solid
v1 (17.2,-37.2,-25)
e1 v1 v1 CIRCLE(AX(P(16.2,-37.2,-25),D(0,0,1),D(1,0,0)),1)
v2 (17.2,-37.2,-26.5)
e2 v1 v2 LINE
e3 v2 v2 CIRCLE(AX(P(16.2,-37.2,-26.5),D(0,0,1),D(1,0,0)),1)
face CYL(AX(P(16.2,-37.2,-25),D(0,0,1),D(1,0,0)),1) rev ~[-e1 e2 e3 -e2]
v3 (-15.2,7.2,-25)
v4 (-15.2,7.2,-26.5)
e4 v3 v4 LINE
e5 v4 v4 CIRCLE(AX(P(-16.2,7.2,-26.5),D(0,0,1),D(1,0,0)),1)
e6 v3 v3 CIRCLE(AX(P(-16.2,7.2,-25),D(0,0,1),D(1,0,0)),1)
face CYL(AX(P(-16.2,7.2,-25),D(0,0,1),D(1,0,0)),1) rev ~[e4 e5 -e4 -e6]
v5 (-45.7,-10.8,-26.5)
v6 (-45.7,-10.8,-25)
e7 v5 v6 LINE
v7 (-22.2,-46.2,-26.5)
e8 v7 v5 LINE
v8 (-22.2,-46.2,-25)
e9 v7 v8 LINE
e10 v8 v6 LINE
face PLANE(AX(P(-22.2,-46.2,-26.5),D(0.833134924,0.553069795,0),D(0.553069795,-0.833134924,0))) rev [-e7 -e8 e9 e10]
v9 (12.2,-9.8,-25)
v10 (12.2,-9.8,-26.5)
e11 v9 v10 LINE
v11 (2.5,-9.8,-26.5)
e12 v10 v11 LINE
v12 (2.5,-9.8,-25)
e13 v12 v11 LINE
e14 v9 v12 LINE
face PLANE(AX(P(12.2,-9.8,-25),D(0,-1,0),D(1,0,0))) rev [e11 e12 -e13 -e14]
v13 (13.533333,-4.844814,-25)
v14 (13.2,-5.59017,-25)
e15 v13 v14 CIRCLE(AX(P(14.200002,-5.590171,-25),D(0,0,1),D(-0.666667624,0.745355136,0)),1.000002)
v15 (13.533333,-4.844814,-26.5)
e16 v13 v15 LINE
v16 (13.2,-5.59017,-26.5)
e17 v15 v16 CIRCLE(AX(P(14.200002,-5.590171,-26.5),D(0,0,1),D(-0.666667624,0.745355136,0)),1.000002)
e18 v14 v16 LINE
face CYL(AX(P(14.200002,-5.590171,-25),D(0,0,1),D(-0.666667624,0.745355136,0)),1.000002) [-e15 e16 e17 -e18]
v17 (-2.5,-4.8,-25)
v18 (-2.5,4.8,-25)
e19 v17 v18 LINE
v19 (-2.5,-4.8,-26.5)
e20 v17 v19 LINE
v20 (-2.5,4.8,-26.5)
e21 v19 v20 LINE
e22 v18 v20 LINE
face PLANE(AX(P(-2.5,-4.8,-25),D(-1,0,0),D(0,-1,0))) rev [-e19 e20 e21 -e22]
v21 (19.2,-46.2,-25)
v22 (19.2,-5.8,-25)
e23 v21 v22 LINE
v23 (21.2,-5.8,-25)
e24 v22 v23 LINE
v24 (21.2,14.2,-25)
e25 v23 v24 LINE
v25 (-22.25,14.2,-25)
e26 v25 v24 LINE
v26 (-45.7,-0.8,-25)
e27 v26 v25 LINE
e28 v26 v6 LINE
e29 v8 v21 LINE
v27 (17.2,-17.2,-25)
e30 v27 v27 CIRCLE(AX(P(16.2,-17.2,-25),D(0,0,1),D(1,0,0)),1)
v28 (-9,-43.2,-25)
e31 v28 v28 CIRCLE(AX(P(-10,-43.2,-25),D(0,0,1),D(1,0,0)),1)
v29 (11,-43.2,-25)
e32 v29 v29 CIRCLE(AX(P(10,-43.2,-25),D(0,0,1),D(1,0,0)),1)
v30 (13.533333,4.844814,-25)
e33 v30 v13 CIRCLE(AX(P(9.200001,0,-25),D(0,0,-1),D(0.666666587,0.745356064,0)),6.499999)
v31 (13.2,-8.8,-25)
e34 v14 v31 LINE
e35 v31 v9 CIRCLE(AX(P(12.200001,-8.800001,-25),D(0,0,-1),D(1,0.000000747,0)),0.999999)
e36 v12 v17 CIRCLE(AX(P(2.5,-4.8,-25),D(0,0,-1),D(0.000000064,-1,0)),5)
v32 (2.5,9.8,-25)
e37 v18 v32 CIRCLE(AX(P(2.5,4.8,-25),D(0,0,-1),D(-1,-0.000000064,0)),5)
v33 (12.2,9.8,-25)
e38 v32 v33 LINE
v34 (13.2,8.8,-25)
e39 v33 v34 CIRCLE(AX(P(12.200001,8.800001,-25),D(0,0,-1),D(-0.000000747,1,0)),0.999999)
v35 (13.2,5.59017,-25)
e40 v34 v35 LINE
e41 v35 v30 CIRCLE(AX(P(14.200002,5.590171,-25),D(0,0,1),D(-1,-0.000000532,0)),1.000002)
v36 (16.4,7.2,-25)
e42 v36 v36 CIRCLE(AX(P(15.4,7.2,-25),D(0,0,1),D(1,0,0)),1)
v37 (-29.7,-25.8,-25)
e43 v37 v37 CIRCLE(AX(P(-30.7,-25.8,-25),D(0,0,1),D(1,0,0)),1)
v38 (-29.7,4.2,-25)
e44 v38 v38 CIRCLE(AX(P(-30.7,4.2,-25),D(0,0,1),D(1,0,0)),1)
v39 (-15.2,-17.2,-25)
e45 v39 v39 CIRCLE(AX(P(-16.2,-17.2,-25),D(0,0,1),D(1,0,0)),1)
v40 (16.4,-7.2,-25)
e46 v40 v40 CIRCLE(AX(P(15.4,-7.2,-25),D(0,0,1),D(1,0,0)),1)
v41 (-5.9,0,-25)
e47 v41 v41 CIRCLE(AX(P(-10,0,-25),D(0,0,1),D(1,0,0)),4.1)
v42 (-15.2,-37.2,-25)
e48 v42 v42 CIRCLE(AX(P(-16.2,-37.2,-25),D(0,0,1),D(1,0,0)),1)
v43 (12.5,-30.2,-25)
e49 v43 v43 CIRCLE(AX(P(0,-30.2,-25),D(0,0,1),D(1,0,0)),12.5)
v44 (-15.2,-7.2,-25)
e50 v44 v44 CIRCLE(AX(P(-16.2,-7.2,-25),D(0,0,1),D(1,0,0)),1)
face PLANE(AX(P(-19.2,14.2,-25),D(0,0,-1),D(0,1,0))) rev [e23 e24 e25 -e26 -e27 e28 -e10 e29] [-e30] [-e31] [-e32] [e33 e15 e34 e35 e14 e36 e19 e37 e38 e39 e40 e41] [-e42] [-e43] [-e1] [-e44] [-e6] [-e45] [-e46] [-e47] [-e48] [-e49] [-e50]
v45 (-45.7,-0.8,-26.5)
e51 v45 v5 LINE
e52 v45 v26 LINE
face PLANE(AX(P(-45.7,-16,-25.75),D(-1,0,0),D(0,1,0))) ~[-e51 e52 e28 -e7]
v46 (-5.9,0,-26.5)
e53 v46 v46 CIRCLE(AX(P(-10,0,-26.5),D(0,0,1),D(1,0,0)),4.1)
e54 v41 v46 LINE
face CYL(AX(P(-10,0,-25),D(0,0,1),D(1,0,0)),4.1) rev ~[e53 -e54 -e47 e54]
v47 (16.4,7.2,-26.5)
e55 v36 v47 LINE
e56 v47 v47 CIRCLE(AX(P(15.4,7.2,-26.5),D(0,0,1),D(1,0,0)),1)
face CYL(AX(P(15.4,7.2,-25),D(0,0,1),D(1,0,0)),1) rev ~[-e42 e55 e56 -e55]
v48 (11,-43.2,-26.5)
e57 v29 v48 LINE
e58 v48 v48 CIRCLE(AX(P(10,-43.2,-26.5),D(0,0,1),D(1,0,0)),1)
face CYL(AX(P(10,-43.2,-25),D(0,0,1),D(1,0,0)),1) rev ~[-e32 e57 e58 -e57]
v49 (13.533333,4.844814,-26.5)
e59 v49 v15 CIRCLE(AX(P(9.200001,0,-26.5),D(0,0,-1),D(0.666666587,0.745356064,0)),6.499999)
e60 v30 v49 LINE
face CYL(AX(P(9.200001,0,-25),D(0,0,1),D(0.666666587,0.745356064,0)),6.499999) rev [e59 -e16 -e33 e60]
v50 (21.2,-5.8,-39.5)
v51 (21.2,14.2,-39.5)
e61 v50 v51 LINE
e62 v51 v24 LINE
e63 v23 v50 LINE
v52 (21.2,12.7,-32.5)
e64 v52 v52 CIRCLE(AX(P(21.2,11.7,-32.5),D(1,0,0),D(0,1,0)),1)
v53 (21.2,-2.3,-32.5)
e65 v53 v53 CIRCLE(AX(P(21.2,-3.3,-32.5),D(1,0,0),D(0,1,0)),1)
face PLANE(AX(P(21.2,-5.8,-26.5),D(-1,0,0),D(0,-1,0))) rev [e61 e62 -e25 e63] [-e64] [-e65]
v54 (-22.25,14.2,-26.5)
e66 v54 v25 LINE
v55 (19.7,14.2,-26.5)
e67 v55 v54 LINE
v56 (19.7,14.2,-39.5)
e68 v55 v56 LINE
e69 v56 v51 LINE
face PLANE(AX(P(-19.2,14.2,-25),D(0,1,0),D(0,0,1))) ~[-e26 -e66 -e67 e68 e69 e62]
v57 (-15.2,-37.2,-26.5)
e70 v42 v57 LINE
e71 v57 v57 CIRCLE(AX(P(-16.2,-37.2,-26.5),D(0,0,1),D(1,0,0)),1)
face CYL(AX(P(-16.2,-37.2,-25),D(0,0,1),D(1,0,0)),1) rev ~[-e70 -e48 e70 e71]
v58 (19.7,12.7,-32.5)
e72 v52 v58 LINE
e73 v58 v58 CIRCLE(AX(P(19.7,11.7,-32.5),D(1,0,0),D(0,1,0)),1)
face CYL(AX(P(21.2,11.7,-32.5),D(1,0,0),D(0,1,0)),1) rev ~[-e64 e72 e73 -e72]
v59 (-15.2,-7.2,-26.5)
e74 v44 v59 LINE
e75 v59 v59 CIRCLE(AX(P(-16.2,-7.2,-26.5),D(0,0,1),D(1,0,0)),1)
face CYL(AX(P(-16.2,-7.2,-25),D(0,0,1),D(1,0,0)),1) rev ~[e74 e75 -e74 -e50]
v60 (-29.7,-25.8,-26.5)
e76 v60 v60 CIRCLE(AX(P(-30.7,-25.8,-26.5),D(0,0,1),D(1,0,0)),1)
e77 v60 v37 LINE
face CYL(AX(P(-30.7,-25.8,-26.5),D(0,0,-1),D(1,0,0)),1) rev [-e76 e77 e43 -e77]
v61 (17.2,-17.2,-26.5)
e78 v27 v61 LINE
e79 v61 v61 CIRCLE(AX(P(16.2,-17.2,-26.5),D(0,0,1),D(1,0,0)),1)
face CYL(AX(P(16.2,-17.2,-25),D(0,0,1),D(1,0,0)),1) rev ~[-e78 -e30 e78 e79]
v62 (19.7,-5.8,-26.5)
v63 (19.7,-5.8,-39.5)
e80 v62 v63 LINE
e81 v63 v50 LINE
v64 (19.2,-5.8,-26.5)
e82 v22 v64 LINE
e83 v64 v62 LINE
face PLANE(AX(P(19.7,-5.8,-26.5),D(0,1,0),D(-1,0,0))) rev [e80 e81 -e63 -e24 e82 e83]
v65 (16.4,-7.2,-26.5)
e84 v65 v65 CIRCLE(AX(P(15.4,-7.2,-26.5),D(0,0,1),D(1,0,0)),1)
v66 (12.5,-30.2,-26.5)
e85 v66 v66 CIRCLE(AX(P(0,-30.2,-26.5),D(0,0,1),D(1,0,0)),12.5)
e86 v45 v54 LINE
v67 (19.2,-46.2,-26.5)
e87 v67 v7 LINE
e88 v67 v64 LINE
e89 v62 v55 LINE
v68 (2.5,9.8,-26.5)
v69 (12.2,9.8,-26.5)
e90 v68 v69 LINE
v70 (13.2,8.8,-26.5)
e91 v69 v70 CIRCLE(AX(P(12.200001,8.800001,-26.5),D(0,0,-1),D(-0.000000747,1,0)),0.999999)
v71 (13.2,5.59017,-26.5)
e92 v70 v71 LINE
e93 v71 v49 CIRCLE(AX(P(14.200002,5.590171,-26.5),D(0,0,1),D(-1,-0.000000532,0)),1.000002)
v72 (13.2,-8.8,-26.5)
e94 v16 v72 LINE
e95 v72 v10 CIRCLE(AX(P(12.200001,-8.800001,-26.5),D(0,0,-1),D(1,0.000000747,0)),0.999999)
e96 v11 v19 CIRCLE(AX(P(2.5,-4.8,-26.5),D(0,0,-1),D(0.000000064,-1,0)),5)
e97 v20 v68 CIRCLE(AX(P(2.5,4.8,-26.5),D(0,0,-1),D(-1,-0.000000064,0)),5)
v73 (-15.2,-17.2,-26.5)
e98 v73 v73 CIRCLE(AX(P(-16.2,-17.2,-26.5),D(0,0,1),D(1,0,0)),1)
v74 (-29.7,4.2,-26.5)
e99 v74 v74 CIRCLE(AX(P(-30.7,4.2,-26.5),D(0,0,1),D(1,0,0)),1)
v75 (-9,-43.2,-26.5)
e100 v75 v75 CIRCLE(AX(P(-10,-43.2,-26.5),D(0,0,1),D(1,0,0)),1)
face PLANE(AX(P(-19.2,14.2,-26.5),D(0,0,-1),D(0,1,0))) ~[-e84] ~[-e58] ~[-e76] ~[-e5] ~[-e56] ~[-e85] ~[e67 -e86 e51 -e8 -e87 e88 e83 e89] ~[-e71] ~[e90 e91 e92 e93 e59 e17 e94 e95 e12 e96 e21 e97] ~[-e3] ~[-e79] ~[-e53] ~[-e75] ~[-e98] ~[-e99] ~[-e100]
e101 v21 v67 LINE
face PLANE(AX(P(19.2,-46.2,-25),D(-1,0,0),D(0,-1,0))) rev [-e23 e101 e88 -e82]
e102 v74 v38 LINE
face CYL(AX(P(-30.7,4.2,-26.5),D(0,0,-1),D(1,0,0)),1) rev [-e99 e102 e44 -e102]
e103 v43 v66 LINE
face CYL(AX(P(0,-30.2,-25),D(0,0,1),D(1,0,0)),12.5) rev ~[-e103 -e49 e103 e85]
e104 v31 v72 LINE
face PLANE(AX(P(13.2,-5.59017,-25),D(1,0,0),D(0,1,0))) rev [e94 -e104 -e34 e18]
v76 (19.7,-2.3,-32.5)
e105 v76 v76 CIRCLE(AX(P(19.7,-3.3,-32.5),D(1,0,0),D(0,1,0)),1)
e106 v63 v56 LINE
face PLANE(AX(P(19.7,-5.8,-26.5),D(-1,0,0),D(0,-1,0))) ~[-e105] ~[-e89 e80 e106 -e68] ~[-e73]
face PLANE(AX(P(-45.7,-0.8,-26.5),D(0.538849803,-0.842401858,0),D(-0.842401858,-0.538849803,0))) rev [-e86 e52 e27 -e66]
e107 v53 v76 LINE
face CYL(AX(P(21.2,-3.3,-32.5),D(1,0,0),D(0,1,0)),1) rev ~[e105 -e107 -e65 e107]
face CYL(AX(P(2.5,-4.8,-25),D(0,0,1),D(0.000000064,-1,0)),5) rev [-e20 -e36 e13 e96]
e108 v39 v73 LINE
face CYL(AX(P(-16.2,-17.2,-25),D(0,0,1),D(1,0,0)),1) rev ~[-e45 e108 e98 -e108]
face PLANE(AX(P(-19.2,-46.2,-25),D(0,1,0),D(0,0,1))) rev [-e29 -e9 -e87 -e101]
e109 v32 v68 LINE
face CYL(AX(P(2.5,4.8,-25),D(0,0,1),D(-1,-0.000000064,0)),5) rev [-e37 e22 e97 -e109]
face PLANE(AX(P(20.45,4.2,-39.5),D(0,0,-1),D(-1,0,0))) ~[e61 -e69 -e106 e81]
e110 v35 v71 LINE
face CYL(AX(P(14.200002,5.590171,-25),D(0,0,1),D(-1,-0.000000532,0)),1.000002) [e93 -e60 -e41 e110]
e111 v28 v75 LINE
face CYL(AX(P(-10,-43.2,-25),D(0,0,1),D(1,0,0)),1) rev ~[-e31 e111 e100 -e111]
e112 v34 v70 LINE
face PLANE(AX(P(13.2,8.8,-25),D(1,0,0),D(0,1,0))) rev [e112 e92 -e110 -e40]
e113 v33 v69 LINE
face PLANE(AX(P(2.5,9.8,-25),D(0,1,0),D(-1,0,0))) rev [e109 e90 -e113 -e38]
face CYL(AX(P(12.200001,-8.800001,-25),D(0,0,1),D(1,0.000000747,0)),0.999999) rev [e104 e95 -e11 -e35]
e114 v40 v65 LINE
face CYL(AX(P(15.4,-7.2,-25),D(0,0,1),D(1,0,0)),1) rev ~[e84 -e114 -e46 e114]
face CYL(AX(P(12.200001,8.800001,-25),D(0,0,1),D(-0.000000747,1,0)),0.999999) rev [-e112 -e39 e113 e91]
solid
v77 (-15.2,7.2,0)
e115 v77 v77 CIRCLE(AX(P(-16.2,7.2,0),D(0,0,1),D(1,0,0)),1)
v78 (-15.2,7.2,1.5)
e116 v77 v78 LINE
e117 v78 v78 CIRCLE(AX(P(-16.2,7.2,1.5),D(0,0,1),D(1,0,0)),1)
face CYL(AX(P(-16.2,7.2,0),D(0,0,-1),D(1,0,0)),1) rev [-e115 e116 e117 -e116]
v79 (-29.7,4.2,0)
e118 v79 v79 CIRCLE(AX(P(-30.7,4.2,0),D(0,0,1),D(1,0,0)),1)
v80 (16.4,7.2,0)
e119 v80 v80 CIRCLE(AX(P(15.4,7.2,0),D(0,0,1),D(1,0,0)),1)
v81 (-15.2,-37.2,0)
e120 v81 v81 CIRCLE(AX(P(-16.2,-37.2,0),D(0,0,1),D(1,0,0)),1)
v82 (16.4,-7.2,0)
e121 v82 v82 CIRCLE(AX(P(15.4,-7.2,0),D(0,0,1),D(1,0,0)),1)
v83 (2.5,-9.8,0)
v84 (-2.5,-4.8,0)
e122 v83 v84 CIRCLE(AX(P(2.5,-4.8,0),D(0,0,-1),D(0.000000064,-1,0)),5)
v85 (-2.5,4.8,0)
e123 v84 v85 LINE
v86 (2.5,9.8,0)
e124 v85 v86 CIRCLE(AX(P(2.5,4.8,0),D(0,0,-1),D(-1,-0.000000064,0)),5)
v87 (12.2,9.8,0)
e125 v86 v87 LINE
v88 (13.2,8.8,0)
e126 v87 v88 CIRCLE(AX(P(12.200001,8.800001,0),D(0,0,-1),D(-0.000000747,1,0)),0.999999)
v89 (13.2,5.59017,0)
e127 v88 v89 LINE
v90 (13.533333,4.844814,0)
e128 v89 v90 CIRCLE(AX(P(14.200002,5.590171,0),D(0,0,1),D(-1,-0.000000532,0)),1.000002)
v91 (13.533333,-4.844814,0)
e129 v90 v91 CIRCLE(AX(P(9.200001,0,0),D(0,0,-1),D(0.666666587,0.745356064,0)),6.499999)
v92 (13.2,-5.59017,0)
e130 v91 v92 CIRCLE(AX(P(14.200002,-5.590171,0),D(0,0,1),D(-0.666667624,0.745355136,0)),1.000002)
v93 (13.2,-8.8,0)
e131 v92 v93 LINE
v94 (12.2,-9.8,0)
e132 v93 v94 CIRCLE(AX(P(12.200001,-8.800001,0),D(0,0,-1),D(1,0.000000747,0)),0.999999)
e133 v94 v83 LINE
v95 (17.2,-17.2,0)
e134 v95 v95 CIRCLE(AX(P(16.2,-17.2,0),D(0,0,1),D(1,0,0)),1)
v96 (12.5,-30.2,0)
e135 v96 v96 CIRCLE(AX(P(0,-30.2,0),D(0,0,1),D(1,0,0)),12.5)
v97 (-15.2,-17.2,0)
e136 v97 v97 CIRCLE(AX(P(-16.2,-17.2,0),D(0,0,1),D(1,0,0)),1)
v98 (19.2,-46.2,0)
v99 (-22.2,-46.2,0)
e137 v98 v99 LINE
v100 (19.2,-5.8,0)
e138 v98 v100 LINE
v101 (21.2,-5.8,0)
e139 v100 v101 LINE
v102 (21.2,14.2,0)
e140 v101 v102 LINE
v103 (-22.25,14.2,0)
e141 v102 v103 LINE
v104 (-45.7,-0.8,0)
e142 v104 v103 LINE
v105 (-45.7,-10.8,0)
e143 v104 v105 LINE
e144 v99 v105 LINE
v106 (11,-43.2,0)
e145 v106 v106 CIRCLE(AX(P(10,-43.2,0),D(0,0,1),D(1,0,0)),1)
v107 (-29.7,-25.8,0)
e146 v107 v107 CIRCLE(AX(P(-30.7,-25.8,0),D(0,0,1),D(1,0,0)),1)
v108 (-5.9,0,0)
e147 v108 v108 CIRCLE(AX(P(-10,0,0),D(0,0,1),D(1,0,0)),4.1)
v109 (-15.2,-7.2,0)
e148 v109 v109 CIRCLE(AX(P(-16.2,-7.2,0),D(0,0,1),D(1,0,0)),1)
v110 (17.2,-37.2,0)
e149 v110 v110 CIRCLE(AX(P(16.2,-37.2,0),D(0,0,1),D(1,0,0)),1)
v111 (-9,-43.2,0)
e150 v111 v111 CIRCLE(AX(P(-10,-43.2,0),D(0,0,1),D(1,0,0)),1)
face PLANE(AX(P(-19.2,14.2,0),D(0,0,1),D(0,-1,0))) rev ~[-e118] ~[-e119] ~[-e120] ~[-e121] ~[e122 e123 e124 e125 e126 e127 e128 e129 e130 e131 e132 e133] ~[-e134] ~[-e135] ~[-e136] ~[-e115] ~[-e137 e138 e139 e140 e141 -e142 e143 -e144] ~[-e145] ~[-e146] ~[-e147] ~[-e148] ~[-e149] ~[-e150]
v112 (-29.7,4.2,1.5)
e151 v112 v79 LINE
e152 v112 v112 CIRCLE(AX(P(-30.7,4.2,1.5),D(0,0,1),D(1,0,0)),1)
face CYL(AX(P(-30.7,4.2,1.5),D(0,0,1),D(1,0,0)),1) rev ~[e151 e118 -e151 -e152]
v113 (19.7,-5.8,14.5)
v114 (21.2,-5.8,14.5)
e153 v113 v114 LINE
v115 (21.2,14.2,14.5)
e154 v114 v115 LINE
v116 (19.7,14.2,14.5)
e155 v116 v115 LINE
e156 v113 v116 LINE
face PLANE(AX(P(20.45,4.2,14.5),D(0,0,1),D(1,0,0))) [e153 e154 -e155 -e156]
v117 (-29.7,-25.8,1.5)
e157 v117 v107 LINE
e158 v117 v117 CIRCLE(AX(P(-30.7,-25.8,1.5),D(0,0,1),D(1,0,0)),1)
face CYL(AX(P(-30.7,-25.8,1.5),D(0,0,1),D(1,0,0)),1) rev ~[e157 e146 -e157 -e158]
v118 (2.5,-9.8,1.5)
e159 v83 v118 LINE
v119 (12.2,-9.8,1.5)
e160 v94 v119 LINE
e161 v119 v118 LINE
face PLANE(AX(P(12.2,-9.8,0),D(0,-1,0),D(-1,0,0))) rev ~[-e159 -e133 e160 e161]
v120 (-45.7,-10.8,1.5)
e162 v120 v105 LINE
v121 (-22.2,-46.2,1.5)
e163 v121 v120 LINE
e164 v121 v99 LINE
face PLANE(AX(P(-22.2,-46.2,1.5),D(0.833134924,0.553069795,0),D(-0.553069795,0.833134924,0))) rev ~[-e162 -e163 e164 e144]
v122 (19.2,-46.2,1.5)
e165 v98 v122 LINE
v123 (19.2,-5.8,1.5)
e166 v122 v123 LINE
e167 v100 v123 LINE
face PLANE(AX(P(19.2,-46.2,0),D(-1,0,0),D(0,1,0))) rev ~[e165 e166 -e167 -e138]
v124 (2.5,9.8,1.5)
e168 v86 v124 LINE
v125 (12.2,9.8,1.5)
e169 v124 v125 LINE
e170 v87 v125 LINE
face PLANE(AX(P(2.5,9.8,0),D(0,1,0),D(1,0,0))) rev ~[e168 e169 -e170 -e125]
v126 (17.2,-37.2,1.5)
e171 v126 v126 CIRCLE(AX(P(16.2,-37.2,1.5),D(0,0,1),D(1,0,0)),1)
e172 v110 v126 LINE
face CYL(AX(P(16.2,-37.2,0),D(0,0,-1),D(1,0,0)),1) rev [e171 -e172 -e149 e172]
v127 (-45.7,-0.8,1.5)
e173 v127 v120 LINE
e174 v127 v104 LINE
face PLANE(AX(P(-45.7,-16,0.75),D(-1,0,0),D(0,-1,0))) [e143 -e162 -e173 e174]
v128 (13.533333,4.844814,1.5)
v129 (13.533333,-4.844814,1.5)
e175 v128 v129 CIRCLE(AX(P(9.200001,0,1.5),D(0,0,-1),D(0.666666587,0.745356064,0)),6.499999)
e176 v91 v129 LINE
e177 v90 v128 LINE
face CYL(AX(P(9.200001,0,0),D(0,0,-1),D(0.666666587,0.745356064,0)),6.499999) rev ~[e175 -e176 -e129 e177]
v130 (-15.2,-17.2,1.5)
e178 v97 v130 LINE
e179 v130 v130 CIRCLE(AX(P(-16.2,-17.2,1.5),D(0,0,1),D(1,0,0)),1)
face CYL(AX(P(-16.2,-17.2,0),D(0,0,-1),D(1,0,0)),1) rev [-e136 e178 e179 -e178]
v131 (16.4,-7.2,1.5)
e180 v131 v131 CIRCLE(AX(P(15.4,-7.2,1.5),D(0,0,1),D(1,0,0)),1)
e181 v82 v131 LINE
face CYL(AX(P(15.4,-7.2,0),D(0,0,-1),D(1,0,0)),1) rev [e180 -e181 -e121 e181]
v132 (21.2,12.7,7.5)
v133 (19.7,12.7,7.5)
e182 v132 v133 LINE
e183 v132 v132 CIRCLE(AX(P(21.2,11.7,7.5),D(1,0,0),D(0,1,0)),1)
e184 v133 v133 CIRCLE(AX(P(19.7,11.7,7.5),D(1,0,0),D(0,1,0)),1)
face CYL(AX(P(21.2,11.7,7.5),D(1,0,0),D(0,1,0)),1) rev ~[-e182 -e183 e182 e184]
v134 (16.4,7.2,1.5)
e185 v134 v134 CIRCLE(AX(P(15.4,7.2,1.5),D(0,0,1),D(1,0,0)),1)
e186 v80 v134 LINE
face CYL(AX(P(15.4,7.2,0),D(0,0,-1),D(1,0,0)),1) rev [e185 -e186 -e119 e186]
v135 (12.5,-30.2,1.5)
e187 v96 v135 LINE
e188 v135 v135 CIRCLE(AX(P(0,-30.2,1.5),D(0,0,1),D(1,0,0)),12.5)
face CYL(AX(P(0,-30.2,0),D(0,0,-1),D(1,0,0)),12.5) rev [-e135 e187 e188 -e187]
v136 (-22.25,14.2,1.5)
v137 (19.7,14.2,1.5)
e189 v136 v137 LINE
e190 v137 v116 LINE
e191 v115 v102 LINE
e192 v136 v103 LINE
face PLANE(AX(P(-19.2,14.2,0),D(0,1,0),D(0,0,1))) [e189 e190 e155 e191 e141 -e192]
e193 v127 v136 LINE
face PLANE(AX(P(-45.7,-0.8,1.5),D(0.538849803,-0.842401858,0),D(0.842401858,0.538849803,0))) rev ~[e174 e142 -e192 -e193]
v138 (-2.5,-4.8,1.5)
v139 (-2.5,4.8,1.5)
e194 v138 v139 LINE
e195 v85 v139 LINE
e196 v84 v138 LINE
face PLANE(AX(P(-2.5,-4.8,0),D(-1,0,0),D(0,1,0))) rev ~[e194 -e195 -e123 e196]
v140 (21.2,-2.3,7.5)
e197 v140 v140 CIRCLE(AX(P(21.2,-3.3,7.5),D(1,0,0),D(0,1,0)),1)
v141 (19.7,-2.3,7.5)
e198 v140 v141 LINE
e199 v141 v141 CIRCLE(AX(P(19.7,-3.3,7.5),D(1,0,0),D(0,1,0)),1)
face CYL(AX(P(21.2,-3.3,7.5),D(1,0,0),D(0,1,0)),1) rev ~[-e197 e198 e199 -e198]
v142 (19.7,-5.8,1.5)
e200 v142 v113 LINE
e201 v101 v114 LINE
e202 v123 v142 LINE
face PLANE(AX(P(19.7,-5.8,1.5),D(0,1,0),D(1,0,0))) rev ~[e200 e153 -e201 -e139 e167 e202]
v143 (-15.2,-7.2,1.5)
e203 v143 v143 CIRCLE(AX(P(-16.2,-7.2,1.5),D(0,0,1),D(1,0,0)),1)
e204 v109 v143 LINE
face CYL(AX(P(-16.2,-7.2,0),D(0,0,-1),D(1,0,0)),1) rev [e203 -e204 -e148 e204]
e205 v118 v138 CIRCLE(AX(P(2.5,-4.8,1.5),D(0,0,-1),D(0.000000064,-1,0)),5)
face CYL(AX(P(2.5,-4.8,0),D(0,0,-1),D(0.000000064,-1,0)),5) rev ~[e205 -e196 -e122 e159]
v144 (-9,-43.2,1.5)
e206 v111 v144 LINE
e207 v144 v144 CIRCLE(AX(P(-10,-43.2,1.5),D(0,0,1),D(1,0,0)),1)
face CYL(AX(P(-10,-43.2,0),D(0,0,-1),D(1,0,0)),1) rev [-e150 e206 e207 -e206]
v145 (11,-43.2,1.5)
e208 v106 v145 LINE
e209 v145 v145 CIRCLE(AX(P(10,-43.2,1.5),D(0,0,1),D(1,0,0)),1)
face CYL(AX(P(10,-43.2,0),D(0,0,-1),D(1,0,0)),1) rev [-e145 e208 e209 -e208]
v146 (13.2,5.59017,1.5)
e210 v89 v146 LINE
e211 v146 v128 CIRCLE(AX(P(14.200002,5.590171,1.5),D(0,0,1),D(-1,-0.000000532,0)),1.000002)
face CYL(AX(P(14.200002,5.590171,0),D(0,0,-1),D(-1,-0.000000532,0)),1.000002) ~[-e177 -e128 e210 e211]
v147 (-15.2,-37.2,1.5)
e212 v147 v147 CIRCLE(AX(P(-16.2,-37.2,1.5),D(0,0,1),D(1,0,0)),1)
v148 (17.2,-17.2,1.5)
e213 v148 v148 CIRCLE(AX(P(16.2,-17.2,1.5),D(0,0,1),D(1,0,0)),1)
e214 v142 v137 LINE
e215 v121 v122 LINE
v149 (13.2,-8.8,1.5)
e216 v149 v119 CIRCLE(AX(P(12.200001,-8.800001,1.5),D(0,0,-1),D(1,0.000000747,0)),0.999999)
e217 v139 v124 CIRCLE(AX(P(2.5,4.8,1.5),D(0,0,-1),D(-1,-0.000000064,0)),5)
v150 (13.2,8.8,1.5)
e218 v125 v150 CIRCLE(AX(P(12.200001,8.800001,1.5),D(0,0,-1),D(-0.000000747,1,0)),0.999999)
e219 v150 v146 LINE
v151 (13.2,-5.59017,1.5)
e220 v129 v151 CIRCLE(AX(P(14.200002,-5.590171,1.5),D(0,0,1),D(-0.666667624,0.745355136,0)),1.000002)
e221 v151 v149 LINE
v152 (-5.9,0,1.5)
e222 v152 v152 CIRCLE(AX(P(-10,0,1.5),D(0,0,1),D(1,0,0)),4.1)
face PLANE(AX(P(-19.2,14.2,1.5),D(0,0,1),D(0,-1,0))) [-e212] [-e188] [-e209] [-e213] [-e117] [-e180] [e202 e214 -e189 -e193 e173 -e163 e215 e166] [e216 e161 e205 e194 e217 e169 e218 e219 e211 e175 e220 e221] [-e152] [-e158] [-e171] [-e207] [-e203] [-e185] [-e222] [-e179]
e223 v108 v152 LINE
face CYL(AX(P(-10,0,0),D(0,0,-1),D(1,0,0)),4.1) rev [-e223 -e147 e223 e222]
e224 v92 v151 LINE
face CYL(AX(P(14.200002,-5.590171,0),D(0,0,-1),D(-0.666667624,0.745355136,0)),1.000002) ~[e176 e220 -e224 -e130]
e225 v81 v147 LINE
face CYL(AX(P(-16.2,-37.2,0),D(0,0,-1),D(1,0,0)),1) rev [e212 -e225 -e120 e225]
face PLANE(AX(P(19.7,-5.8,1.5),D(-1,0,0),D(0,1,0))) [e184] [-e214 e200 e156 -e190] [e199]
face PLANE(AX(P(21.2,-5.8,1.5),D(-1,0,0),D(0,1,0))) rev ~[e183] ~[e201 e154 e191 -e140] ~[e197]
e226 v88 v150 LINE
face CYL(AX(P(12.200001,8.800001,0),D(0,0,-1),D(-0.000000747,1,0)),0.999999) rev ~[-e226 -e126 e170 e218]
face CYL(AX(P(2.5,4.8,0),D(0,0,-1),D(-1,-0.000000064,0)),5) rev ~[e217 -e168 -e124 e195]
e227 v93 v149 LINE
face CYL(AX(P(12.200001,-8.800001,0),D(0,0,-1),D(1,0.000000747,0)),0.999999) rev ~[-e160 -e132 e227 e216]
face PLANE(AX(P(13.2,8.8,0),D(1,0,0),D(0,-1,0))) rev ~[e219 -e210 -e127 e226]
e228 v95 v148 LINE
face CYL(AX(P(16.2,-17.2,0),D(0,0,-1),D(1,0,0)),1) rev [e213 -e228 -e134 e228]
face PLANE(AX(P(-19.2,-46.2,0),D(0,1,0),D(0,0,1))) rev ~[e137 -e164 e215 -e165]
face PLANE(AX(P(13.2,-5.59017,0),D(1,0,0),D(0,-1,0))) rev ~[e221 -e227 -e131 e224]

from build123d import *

# Parameters (mm, degrees)
F0_R      = 1
F0_R_2    = 12.5
F0_R_3    = 4.1
F1_DEPTH  = 1.5
F2_W      = 20
F2_H      = 1.5
F3_DEPTH  = 2
F4_W      = 1.5
F4_H      = 20
F5_DEPTH  = 13
F8_R      = 1
F9_DEPTH  = 1.5
F10_W     = 60.4
F10_H     = 1.5
F11_DEPTH = 26.5
F12_R     = 1
F13_DEPTH = 1.5
F16_R     = 1
F17_DEPTH = 25


with BuildPart() as f1:
    # F0 (on Top) → F1 (new body)
    with BuildSketch(Plane.XY):
        Polygon((19.2, -14.2), (19.2, 14.2), (-19.2, 14.2), (-19.2, -14.2), (-19.2, -46.2), (19.2, -46.2), align=None)
        with Locations((-10, -43.2)):
            Circle(F0_R, mode=Mode.SUBTRACT)
        with Locations((-16.2, -37.2)):
            Circle(F0_R, mode=Mode.SUBTRACT)
        with Locations((-16.2, -17.2)):
            Circle(F0_R, mode=Mode.SUBTRACT)
        with Locations((10, -43.2)):
            Circle(F0_R, mode=Mode.SUBTRACT)
        with Locations((16.2, -37.2)):
            Circle(F0_R, mode=Mode.SUBTRACT)
        with Locations((0, -30.2)):
            Circle(F0_R_2, mode=Mode.SUBTRACT)
        with Locations((16.2, -17.2)):
            Circle(F0_R, mode=Mode.SUBTRACT)
        with Locations((-16.2, -7.2)):
            Circle(F0_R, mode=Mode.SUBTRACT)
        with Locations((-10, 0)):
            Circle(F0_R_3, mode=Mode.SUBTRACT)
        with Locations((-16.2, 7.2)):
            Circle(F0_R, mode=Mode.SUBTRACT)
        with Locations((15.4, -7.2)):
            Circle(F0_R, mode=Mode.SUBTRACT)
        with BuildLine():
            ThreePointArc((-2.5, 4.8), (-1.035534, 8.335534), (2.5, 9.8))
            Line((2.5, 9.8), (12.2, 9.8))
            ThreePointArc((12.2, 9.8), (12.907107, 9.507107), (13.2, 8.8))
            Line((13.2, 8.8), (13.2, 5.59017))
            ThreePointArc((13.2, 5.59017), (13.287129, 5.181922), (13.533333, 4.844814))
            ThreePointArc((13.533333, 4.844814), (15.7, 0), (13.533333, -4.844814))
            ThreePointArc((13.533333, -4.844814), (13.287129, -5.181922), (13.2, -5.59017))
            Line((13.2, -5.59017), (13.2, -8.8))
            ThreePointArc((13.2, -8.8), (12.907107, -9.507107), (12.2, -9.8))
            Line((12.2, -9.8), (2.5, -9.8))
            ThreePointArc((2.5, -9.8), (-1.035534, -8.335534), (-2.5, -4.8))
            Line((-2.5, -4.8), (-2.5, 4.8))
        make_face(mode=Mode.SUBTRACT)
        with Locations((15.4, 7.2)):
            Circle(F0_R, mode=Mode.SUBTRACT)
    extrude(amount=F1_DEPTH)

    # F2 (on face) → F3 (join)
    with BuildSketch(Plane.YZ.offset(19.2)):
        with Locations((4.2, 0.75)):
            Rectangle(F2_W, F2_H)
    extrude(amount=F3_DEPTH)

    # F4 (on face) → F5 (join)
    with BuildSketch(Plane.XY.offset(1.5)):
        with Locations((20.45, 4.2)):
            Rectangle(F4_W, F4_H)
    extrude(amount=F5_DEPTH)


with BuildPart() as f7_1:
    # F7: instance of F1
    add(f1.part.mirror(Plane.XY.offset(-12.5)))


with BuildPart() as f9_tool:
    # F8 (on face) → F9 (new body, through all)
    with BuildSketch(Plane.YZ.offset(21.2)):
        with Locations((11.7, 7.5)):
            Circle(F8_R)
        with Locations((-3.3, 7.5)):
            Circle(F8_R)
        with Locations((11.7, -32.5)):
            Circle(F8_R)
        with Locations((-3.3, -32.5)):
            Circle(F8_R)
    extrude(amount=-F9_DEPTH)


with BuildPart() as f1_1:
    add(f1.part)

    # F9: cut by f9_tool
    add(f9_tool.part, mode=Mode.SUBTRACT)

    # F10 (on face) → F11 (join)
    with BuildSketch(Plane(origin=(-19.2, 0, 0), x_dir=(0, -1, 0), z_dir=(-1, 0, 0))):
        with Locations((16, 0.75)):
            Rectangle(F10_W, F10_H)
    extrude(amount=F11_DEPTH)

    # F12 (on face) → F13 (cut, through all)
    with BuildSketch(Plane.XY.offset(1.5)):
        Polygon((-22.2, -46.2), (-45.7, -10.8), (-45.7, -46.2), align=None)
        Polygon((-45.7, -0.8), (-22.25, 14.2), (-45.7, 14.2), align=None)
        with Locations((-30.7, 4.2)):
            Circle(F12_R)
        with Locations((-30.7, -25.8)):
            Circle(F12_R)
    extrude(amount=-F13_DEPTH, mode=Mode.SUBTRACT)


with BuildPart() as f7_1_1:
    add(f7_1.part)

    # F9: cut by f9_tool
    add(f9_tool.part, mode=Mode.SUBTRACT)

    # F14: F1 across plane
    add(f1_1.part.mirror(Plane.XY.offset(-12.5)))


with BuildPart() as f17:
    # F16 (on offset) → F17 (new body)
    with BuildSketch(Plane.XY.offset(25)):
        Polygon((-22.2, -46.2), (-22.25, 14.2), (-45.7, -0.8), (-45.7, -10.8), align=None)
        with Locations((-30.7, -25.8)):
            Circle(F16_R, mode=Mode.SUBTRACT)
        with Locations((-30.7, 4.2)):
            Circle(F16_R, mode=Mode.SUBTRACT)
    extrude(amount=F17_DEPTH)


solid = Compound([f1_1.part, f7_1_1.part])
